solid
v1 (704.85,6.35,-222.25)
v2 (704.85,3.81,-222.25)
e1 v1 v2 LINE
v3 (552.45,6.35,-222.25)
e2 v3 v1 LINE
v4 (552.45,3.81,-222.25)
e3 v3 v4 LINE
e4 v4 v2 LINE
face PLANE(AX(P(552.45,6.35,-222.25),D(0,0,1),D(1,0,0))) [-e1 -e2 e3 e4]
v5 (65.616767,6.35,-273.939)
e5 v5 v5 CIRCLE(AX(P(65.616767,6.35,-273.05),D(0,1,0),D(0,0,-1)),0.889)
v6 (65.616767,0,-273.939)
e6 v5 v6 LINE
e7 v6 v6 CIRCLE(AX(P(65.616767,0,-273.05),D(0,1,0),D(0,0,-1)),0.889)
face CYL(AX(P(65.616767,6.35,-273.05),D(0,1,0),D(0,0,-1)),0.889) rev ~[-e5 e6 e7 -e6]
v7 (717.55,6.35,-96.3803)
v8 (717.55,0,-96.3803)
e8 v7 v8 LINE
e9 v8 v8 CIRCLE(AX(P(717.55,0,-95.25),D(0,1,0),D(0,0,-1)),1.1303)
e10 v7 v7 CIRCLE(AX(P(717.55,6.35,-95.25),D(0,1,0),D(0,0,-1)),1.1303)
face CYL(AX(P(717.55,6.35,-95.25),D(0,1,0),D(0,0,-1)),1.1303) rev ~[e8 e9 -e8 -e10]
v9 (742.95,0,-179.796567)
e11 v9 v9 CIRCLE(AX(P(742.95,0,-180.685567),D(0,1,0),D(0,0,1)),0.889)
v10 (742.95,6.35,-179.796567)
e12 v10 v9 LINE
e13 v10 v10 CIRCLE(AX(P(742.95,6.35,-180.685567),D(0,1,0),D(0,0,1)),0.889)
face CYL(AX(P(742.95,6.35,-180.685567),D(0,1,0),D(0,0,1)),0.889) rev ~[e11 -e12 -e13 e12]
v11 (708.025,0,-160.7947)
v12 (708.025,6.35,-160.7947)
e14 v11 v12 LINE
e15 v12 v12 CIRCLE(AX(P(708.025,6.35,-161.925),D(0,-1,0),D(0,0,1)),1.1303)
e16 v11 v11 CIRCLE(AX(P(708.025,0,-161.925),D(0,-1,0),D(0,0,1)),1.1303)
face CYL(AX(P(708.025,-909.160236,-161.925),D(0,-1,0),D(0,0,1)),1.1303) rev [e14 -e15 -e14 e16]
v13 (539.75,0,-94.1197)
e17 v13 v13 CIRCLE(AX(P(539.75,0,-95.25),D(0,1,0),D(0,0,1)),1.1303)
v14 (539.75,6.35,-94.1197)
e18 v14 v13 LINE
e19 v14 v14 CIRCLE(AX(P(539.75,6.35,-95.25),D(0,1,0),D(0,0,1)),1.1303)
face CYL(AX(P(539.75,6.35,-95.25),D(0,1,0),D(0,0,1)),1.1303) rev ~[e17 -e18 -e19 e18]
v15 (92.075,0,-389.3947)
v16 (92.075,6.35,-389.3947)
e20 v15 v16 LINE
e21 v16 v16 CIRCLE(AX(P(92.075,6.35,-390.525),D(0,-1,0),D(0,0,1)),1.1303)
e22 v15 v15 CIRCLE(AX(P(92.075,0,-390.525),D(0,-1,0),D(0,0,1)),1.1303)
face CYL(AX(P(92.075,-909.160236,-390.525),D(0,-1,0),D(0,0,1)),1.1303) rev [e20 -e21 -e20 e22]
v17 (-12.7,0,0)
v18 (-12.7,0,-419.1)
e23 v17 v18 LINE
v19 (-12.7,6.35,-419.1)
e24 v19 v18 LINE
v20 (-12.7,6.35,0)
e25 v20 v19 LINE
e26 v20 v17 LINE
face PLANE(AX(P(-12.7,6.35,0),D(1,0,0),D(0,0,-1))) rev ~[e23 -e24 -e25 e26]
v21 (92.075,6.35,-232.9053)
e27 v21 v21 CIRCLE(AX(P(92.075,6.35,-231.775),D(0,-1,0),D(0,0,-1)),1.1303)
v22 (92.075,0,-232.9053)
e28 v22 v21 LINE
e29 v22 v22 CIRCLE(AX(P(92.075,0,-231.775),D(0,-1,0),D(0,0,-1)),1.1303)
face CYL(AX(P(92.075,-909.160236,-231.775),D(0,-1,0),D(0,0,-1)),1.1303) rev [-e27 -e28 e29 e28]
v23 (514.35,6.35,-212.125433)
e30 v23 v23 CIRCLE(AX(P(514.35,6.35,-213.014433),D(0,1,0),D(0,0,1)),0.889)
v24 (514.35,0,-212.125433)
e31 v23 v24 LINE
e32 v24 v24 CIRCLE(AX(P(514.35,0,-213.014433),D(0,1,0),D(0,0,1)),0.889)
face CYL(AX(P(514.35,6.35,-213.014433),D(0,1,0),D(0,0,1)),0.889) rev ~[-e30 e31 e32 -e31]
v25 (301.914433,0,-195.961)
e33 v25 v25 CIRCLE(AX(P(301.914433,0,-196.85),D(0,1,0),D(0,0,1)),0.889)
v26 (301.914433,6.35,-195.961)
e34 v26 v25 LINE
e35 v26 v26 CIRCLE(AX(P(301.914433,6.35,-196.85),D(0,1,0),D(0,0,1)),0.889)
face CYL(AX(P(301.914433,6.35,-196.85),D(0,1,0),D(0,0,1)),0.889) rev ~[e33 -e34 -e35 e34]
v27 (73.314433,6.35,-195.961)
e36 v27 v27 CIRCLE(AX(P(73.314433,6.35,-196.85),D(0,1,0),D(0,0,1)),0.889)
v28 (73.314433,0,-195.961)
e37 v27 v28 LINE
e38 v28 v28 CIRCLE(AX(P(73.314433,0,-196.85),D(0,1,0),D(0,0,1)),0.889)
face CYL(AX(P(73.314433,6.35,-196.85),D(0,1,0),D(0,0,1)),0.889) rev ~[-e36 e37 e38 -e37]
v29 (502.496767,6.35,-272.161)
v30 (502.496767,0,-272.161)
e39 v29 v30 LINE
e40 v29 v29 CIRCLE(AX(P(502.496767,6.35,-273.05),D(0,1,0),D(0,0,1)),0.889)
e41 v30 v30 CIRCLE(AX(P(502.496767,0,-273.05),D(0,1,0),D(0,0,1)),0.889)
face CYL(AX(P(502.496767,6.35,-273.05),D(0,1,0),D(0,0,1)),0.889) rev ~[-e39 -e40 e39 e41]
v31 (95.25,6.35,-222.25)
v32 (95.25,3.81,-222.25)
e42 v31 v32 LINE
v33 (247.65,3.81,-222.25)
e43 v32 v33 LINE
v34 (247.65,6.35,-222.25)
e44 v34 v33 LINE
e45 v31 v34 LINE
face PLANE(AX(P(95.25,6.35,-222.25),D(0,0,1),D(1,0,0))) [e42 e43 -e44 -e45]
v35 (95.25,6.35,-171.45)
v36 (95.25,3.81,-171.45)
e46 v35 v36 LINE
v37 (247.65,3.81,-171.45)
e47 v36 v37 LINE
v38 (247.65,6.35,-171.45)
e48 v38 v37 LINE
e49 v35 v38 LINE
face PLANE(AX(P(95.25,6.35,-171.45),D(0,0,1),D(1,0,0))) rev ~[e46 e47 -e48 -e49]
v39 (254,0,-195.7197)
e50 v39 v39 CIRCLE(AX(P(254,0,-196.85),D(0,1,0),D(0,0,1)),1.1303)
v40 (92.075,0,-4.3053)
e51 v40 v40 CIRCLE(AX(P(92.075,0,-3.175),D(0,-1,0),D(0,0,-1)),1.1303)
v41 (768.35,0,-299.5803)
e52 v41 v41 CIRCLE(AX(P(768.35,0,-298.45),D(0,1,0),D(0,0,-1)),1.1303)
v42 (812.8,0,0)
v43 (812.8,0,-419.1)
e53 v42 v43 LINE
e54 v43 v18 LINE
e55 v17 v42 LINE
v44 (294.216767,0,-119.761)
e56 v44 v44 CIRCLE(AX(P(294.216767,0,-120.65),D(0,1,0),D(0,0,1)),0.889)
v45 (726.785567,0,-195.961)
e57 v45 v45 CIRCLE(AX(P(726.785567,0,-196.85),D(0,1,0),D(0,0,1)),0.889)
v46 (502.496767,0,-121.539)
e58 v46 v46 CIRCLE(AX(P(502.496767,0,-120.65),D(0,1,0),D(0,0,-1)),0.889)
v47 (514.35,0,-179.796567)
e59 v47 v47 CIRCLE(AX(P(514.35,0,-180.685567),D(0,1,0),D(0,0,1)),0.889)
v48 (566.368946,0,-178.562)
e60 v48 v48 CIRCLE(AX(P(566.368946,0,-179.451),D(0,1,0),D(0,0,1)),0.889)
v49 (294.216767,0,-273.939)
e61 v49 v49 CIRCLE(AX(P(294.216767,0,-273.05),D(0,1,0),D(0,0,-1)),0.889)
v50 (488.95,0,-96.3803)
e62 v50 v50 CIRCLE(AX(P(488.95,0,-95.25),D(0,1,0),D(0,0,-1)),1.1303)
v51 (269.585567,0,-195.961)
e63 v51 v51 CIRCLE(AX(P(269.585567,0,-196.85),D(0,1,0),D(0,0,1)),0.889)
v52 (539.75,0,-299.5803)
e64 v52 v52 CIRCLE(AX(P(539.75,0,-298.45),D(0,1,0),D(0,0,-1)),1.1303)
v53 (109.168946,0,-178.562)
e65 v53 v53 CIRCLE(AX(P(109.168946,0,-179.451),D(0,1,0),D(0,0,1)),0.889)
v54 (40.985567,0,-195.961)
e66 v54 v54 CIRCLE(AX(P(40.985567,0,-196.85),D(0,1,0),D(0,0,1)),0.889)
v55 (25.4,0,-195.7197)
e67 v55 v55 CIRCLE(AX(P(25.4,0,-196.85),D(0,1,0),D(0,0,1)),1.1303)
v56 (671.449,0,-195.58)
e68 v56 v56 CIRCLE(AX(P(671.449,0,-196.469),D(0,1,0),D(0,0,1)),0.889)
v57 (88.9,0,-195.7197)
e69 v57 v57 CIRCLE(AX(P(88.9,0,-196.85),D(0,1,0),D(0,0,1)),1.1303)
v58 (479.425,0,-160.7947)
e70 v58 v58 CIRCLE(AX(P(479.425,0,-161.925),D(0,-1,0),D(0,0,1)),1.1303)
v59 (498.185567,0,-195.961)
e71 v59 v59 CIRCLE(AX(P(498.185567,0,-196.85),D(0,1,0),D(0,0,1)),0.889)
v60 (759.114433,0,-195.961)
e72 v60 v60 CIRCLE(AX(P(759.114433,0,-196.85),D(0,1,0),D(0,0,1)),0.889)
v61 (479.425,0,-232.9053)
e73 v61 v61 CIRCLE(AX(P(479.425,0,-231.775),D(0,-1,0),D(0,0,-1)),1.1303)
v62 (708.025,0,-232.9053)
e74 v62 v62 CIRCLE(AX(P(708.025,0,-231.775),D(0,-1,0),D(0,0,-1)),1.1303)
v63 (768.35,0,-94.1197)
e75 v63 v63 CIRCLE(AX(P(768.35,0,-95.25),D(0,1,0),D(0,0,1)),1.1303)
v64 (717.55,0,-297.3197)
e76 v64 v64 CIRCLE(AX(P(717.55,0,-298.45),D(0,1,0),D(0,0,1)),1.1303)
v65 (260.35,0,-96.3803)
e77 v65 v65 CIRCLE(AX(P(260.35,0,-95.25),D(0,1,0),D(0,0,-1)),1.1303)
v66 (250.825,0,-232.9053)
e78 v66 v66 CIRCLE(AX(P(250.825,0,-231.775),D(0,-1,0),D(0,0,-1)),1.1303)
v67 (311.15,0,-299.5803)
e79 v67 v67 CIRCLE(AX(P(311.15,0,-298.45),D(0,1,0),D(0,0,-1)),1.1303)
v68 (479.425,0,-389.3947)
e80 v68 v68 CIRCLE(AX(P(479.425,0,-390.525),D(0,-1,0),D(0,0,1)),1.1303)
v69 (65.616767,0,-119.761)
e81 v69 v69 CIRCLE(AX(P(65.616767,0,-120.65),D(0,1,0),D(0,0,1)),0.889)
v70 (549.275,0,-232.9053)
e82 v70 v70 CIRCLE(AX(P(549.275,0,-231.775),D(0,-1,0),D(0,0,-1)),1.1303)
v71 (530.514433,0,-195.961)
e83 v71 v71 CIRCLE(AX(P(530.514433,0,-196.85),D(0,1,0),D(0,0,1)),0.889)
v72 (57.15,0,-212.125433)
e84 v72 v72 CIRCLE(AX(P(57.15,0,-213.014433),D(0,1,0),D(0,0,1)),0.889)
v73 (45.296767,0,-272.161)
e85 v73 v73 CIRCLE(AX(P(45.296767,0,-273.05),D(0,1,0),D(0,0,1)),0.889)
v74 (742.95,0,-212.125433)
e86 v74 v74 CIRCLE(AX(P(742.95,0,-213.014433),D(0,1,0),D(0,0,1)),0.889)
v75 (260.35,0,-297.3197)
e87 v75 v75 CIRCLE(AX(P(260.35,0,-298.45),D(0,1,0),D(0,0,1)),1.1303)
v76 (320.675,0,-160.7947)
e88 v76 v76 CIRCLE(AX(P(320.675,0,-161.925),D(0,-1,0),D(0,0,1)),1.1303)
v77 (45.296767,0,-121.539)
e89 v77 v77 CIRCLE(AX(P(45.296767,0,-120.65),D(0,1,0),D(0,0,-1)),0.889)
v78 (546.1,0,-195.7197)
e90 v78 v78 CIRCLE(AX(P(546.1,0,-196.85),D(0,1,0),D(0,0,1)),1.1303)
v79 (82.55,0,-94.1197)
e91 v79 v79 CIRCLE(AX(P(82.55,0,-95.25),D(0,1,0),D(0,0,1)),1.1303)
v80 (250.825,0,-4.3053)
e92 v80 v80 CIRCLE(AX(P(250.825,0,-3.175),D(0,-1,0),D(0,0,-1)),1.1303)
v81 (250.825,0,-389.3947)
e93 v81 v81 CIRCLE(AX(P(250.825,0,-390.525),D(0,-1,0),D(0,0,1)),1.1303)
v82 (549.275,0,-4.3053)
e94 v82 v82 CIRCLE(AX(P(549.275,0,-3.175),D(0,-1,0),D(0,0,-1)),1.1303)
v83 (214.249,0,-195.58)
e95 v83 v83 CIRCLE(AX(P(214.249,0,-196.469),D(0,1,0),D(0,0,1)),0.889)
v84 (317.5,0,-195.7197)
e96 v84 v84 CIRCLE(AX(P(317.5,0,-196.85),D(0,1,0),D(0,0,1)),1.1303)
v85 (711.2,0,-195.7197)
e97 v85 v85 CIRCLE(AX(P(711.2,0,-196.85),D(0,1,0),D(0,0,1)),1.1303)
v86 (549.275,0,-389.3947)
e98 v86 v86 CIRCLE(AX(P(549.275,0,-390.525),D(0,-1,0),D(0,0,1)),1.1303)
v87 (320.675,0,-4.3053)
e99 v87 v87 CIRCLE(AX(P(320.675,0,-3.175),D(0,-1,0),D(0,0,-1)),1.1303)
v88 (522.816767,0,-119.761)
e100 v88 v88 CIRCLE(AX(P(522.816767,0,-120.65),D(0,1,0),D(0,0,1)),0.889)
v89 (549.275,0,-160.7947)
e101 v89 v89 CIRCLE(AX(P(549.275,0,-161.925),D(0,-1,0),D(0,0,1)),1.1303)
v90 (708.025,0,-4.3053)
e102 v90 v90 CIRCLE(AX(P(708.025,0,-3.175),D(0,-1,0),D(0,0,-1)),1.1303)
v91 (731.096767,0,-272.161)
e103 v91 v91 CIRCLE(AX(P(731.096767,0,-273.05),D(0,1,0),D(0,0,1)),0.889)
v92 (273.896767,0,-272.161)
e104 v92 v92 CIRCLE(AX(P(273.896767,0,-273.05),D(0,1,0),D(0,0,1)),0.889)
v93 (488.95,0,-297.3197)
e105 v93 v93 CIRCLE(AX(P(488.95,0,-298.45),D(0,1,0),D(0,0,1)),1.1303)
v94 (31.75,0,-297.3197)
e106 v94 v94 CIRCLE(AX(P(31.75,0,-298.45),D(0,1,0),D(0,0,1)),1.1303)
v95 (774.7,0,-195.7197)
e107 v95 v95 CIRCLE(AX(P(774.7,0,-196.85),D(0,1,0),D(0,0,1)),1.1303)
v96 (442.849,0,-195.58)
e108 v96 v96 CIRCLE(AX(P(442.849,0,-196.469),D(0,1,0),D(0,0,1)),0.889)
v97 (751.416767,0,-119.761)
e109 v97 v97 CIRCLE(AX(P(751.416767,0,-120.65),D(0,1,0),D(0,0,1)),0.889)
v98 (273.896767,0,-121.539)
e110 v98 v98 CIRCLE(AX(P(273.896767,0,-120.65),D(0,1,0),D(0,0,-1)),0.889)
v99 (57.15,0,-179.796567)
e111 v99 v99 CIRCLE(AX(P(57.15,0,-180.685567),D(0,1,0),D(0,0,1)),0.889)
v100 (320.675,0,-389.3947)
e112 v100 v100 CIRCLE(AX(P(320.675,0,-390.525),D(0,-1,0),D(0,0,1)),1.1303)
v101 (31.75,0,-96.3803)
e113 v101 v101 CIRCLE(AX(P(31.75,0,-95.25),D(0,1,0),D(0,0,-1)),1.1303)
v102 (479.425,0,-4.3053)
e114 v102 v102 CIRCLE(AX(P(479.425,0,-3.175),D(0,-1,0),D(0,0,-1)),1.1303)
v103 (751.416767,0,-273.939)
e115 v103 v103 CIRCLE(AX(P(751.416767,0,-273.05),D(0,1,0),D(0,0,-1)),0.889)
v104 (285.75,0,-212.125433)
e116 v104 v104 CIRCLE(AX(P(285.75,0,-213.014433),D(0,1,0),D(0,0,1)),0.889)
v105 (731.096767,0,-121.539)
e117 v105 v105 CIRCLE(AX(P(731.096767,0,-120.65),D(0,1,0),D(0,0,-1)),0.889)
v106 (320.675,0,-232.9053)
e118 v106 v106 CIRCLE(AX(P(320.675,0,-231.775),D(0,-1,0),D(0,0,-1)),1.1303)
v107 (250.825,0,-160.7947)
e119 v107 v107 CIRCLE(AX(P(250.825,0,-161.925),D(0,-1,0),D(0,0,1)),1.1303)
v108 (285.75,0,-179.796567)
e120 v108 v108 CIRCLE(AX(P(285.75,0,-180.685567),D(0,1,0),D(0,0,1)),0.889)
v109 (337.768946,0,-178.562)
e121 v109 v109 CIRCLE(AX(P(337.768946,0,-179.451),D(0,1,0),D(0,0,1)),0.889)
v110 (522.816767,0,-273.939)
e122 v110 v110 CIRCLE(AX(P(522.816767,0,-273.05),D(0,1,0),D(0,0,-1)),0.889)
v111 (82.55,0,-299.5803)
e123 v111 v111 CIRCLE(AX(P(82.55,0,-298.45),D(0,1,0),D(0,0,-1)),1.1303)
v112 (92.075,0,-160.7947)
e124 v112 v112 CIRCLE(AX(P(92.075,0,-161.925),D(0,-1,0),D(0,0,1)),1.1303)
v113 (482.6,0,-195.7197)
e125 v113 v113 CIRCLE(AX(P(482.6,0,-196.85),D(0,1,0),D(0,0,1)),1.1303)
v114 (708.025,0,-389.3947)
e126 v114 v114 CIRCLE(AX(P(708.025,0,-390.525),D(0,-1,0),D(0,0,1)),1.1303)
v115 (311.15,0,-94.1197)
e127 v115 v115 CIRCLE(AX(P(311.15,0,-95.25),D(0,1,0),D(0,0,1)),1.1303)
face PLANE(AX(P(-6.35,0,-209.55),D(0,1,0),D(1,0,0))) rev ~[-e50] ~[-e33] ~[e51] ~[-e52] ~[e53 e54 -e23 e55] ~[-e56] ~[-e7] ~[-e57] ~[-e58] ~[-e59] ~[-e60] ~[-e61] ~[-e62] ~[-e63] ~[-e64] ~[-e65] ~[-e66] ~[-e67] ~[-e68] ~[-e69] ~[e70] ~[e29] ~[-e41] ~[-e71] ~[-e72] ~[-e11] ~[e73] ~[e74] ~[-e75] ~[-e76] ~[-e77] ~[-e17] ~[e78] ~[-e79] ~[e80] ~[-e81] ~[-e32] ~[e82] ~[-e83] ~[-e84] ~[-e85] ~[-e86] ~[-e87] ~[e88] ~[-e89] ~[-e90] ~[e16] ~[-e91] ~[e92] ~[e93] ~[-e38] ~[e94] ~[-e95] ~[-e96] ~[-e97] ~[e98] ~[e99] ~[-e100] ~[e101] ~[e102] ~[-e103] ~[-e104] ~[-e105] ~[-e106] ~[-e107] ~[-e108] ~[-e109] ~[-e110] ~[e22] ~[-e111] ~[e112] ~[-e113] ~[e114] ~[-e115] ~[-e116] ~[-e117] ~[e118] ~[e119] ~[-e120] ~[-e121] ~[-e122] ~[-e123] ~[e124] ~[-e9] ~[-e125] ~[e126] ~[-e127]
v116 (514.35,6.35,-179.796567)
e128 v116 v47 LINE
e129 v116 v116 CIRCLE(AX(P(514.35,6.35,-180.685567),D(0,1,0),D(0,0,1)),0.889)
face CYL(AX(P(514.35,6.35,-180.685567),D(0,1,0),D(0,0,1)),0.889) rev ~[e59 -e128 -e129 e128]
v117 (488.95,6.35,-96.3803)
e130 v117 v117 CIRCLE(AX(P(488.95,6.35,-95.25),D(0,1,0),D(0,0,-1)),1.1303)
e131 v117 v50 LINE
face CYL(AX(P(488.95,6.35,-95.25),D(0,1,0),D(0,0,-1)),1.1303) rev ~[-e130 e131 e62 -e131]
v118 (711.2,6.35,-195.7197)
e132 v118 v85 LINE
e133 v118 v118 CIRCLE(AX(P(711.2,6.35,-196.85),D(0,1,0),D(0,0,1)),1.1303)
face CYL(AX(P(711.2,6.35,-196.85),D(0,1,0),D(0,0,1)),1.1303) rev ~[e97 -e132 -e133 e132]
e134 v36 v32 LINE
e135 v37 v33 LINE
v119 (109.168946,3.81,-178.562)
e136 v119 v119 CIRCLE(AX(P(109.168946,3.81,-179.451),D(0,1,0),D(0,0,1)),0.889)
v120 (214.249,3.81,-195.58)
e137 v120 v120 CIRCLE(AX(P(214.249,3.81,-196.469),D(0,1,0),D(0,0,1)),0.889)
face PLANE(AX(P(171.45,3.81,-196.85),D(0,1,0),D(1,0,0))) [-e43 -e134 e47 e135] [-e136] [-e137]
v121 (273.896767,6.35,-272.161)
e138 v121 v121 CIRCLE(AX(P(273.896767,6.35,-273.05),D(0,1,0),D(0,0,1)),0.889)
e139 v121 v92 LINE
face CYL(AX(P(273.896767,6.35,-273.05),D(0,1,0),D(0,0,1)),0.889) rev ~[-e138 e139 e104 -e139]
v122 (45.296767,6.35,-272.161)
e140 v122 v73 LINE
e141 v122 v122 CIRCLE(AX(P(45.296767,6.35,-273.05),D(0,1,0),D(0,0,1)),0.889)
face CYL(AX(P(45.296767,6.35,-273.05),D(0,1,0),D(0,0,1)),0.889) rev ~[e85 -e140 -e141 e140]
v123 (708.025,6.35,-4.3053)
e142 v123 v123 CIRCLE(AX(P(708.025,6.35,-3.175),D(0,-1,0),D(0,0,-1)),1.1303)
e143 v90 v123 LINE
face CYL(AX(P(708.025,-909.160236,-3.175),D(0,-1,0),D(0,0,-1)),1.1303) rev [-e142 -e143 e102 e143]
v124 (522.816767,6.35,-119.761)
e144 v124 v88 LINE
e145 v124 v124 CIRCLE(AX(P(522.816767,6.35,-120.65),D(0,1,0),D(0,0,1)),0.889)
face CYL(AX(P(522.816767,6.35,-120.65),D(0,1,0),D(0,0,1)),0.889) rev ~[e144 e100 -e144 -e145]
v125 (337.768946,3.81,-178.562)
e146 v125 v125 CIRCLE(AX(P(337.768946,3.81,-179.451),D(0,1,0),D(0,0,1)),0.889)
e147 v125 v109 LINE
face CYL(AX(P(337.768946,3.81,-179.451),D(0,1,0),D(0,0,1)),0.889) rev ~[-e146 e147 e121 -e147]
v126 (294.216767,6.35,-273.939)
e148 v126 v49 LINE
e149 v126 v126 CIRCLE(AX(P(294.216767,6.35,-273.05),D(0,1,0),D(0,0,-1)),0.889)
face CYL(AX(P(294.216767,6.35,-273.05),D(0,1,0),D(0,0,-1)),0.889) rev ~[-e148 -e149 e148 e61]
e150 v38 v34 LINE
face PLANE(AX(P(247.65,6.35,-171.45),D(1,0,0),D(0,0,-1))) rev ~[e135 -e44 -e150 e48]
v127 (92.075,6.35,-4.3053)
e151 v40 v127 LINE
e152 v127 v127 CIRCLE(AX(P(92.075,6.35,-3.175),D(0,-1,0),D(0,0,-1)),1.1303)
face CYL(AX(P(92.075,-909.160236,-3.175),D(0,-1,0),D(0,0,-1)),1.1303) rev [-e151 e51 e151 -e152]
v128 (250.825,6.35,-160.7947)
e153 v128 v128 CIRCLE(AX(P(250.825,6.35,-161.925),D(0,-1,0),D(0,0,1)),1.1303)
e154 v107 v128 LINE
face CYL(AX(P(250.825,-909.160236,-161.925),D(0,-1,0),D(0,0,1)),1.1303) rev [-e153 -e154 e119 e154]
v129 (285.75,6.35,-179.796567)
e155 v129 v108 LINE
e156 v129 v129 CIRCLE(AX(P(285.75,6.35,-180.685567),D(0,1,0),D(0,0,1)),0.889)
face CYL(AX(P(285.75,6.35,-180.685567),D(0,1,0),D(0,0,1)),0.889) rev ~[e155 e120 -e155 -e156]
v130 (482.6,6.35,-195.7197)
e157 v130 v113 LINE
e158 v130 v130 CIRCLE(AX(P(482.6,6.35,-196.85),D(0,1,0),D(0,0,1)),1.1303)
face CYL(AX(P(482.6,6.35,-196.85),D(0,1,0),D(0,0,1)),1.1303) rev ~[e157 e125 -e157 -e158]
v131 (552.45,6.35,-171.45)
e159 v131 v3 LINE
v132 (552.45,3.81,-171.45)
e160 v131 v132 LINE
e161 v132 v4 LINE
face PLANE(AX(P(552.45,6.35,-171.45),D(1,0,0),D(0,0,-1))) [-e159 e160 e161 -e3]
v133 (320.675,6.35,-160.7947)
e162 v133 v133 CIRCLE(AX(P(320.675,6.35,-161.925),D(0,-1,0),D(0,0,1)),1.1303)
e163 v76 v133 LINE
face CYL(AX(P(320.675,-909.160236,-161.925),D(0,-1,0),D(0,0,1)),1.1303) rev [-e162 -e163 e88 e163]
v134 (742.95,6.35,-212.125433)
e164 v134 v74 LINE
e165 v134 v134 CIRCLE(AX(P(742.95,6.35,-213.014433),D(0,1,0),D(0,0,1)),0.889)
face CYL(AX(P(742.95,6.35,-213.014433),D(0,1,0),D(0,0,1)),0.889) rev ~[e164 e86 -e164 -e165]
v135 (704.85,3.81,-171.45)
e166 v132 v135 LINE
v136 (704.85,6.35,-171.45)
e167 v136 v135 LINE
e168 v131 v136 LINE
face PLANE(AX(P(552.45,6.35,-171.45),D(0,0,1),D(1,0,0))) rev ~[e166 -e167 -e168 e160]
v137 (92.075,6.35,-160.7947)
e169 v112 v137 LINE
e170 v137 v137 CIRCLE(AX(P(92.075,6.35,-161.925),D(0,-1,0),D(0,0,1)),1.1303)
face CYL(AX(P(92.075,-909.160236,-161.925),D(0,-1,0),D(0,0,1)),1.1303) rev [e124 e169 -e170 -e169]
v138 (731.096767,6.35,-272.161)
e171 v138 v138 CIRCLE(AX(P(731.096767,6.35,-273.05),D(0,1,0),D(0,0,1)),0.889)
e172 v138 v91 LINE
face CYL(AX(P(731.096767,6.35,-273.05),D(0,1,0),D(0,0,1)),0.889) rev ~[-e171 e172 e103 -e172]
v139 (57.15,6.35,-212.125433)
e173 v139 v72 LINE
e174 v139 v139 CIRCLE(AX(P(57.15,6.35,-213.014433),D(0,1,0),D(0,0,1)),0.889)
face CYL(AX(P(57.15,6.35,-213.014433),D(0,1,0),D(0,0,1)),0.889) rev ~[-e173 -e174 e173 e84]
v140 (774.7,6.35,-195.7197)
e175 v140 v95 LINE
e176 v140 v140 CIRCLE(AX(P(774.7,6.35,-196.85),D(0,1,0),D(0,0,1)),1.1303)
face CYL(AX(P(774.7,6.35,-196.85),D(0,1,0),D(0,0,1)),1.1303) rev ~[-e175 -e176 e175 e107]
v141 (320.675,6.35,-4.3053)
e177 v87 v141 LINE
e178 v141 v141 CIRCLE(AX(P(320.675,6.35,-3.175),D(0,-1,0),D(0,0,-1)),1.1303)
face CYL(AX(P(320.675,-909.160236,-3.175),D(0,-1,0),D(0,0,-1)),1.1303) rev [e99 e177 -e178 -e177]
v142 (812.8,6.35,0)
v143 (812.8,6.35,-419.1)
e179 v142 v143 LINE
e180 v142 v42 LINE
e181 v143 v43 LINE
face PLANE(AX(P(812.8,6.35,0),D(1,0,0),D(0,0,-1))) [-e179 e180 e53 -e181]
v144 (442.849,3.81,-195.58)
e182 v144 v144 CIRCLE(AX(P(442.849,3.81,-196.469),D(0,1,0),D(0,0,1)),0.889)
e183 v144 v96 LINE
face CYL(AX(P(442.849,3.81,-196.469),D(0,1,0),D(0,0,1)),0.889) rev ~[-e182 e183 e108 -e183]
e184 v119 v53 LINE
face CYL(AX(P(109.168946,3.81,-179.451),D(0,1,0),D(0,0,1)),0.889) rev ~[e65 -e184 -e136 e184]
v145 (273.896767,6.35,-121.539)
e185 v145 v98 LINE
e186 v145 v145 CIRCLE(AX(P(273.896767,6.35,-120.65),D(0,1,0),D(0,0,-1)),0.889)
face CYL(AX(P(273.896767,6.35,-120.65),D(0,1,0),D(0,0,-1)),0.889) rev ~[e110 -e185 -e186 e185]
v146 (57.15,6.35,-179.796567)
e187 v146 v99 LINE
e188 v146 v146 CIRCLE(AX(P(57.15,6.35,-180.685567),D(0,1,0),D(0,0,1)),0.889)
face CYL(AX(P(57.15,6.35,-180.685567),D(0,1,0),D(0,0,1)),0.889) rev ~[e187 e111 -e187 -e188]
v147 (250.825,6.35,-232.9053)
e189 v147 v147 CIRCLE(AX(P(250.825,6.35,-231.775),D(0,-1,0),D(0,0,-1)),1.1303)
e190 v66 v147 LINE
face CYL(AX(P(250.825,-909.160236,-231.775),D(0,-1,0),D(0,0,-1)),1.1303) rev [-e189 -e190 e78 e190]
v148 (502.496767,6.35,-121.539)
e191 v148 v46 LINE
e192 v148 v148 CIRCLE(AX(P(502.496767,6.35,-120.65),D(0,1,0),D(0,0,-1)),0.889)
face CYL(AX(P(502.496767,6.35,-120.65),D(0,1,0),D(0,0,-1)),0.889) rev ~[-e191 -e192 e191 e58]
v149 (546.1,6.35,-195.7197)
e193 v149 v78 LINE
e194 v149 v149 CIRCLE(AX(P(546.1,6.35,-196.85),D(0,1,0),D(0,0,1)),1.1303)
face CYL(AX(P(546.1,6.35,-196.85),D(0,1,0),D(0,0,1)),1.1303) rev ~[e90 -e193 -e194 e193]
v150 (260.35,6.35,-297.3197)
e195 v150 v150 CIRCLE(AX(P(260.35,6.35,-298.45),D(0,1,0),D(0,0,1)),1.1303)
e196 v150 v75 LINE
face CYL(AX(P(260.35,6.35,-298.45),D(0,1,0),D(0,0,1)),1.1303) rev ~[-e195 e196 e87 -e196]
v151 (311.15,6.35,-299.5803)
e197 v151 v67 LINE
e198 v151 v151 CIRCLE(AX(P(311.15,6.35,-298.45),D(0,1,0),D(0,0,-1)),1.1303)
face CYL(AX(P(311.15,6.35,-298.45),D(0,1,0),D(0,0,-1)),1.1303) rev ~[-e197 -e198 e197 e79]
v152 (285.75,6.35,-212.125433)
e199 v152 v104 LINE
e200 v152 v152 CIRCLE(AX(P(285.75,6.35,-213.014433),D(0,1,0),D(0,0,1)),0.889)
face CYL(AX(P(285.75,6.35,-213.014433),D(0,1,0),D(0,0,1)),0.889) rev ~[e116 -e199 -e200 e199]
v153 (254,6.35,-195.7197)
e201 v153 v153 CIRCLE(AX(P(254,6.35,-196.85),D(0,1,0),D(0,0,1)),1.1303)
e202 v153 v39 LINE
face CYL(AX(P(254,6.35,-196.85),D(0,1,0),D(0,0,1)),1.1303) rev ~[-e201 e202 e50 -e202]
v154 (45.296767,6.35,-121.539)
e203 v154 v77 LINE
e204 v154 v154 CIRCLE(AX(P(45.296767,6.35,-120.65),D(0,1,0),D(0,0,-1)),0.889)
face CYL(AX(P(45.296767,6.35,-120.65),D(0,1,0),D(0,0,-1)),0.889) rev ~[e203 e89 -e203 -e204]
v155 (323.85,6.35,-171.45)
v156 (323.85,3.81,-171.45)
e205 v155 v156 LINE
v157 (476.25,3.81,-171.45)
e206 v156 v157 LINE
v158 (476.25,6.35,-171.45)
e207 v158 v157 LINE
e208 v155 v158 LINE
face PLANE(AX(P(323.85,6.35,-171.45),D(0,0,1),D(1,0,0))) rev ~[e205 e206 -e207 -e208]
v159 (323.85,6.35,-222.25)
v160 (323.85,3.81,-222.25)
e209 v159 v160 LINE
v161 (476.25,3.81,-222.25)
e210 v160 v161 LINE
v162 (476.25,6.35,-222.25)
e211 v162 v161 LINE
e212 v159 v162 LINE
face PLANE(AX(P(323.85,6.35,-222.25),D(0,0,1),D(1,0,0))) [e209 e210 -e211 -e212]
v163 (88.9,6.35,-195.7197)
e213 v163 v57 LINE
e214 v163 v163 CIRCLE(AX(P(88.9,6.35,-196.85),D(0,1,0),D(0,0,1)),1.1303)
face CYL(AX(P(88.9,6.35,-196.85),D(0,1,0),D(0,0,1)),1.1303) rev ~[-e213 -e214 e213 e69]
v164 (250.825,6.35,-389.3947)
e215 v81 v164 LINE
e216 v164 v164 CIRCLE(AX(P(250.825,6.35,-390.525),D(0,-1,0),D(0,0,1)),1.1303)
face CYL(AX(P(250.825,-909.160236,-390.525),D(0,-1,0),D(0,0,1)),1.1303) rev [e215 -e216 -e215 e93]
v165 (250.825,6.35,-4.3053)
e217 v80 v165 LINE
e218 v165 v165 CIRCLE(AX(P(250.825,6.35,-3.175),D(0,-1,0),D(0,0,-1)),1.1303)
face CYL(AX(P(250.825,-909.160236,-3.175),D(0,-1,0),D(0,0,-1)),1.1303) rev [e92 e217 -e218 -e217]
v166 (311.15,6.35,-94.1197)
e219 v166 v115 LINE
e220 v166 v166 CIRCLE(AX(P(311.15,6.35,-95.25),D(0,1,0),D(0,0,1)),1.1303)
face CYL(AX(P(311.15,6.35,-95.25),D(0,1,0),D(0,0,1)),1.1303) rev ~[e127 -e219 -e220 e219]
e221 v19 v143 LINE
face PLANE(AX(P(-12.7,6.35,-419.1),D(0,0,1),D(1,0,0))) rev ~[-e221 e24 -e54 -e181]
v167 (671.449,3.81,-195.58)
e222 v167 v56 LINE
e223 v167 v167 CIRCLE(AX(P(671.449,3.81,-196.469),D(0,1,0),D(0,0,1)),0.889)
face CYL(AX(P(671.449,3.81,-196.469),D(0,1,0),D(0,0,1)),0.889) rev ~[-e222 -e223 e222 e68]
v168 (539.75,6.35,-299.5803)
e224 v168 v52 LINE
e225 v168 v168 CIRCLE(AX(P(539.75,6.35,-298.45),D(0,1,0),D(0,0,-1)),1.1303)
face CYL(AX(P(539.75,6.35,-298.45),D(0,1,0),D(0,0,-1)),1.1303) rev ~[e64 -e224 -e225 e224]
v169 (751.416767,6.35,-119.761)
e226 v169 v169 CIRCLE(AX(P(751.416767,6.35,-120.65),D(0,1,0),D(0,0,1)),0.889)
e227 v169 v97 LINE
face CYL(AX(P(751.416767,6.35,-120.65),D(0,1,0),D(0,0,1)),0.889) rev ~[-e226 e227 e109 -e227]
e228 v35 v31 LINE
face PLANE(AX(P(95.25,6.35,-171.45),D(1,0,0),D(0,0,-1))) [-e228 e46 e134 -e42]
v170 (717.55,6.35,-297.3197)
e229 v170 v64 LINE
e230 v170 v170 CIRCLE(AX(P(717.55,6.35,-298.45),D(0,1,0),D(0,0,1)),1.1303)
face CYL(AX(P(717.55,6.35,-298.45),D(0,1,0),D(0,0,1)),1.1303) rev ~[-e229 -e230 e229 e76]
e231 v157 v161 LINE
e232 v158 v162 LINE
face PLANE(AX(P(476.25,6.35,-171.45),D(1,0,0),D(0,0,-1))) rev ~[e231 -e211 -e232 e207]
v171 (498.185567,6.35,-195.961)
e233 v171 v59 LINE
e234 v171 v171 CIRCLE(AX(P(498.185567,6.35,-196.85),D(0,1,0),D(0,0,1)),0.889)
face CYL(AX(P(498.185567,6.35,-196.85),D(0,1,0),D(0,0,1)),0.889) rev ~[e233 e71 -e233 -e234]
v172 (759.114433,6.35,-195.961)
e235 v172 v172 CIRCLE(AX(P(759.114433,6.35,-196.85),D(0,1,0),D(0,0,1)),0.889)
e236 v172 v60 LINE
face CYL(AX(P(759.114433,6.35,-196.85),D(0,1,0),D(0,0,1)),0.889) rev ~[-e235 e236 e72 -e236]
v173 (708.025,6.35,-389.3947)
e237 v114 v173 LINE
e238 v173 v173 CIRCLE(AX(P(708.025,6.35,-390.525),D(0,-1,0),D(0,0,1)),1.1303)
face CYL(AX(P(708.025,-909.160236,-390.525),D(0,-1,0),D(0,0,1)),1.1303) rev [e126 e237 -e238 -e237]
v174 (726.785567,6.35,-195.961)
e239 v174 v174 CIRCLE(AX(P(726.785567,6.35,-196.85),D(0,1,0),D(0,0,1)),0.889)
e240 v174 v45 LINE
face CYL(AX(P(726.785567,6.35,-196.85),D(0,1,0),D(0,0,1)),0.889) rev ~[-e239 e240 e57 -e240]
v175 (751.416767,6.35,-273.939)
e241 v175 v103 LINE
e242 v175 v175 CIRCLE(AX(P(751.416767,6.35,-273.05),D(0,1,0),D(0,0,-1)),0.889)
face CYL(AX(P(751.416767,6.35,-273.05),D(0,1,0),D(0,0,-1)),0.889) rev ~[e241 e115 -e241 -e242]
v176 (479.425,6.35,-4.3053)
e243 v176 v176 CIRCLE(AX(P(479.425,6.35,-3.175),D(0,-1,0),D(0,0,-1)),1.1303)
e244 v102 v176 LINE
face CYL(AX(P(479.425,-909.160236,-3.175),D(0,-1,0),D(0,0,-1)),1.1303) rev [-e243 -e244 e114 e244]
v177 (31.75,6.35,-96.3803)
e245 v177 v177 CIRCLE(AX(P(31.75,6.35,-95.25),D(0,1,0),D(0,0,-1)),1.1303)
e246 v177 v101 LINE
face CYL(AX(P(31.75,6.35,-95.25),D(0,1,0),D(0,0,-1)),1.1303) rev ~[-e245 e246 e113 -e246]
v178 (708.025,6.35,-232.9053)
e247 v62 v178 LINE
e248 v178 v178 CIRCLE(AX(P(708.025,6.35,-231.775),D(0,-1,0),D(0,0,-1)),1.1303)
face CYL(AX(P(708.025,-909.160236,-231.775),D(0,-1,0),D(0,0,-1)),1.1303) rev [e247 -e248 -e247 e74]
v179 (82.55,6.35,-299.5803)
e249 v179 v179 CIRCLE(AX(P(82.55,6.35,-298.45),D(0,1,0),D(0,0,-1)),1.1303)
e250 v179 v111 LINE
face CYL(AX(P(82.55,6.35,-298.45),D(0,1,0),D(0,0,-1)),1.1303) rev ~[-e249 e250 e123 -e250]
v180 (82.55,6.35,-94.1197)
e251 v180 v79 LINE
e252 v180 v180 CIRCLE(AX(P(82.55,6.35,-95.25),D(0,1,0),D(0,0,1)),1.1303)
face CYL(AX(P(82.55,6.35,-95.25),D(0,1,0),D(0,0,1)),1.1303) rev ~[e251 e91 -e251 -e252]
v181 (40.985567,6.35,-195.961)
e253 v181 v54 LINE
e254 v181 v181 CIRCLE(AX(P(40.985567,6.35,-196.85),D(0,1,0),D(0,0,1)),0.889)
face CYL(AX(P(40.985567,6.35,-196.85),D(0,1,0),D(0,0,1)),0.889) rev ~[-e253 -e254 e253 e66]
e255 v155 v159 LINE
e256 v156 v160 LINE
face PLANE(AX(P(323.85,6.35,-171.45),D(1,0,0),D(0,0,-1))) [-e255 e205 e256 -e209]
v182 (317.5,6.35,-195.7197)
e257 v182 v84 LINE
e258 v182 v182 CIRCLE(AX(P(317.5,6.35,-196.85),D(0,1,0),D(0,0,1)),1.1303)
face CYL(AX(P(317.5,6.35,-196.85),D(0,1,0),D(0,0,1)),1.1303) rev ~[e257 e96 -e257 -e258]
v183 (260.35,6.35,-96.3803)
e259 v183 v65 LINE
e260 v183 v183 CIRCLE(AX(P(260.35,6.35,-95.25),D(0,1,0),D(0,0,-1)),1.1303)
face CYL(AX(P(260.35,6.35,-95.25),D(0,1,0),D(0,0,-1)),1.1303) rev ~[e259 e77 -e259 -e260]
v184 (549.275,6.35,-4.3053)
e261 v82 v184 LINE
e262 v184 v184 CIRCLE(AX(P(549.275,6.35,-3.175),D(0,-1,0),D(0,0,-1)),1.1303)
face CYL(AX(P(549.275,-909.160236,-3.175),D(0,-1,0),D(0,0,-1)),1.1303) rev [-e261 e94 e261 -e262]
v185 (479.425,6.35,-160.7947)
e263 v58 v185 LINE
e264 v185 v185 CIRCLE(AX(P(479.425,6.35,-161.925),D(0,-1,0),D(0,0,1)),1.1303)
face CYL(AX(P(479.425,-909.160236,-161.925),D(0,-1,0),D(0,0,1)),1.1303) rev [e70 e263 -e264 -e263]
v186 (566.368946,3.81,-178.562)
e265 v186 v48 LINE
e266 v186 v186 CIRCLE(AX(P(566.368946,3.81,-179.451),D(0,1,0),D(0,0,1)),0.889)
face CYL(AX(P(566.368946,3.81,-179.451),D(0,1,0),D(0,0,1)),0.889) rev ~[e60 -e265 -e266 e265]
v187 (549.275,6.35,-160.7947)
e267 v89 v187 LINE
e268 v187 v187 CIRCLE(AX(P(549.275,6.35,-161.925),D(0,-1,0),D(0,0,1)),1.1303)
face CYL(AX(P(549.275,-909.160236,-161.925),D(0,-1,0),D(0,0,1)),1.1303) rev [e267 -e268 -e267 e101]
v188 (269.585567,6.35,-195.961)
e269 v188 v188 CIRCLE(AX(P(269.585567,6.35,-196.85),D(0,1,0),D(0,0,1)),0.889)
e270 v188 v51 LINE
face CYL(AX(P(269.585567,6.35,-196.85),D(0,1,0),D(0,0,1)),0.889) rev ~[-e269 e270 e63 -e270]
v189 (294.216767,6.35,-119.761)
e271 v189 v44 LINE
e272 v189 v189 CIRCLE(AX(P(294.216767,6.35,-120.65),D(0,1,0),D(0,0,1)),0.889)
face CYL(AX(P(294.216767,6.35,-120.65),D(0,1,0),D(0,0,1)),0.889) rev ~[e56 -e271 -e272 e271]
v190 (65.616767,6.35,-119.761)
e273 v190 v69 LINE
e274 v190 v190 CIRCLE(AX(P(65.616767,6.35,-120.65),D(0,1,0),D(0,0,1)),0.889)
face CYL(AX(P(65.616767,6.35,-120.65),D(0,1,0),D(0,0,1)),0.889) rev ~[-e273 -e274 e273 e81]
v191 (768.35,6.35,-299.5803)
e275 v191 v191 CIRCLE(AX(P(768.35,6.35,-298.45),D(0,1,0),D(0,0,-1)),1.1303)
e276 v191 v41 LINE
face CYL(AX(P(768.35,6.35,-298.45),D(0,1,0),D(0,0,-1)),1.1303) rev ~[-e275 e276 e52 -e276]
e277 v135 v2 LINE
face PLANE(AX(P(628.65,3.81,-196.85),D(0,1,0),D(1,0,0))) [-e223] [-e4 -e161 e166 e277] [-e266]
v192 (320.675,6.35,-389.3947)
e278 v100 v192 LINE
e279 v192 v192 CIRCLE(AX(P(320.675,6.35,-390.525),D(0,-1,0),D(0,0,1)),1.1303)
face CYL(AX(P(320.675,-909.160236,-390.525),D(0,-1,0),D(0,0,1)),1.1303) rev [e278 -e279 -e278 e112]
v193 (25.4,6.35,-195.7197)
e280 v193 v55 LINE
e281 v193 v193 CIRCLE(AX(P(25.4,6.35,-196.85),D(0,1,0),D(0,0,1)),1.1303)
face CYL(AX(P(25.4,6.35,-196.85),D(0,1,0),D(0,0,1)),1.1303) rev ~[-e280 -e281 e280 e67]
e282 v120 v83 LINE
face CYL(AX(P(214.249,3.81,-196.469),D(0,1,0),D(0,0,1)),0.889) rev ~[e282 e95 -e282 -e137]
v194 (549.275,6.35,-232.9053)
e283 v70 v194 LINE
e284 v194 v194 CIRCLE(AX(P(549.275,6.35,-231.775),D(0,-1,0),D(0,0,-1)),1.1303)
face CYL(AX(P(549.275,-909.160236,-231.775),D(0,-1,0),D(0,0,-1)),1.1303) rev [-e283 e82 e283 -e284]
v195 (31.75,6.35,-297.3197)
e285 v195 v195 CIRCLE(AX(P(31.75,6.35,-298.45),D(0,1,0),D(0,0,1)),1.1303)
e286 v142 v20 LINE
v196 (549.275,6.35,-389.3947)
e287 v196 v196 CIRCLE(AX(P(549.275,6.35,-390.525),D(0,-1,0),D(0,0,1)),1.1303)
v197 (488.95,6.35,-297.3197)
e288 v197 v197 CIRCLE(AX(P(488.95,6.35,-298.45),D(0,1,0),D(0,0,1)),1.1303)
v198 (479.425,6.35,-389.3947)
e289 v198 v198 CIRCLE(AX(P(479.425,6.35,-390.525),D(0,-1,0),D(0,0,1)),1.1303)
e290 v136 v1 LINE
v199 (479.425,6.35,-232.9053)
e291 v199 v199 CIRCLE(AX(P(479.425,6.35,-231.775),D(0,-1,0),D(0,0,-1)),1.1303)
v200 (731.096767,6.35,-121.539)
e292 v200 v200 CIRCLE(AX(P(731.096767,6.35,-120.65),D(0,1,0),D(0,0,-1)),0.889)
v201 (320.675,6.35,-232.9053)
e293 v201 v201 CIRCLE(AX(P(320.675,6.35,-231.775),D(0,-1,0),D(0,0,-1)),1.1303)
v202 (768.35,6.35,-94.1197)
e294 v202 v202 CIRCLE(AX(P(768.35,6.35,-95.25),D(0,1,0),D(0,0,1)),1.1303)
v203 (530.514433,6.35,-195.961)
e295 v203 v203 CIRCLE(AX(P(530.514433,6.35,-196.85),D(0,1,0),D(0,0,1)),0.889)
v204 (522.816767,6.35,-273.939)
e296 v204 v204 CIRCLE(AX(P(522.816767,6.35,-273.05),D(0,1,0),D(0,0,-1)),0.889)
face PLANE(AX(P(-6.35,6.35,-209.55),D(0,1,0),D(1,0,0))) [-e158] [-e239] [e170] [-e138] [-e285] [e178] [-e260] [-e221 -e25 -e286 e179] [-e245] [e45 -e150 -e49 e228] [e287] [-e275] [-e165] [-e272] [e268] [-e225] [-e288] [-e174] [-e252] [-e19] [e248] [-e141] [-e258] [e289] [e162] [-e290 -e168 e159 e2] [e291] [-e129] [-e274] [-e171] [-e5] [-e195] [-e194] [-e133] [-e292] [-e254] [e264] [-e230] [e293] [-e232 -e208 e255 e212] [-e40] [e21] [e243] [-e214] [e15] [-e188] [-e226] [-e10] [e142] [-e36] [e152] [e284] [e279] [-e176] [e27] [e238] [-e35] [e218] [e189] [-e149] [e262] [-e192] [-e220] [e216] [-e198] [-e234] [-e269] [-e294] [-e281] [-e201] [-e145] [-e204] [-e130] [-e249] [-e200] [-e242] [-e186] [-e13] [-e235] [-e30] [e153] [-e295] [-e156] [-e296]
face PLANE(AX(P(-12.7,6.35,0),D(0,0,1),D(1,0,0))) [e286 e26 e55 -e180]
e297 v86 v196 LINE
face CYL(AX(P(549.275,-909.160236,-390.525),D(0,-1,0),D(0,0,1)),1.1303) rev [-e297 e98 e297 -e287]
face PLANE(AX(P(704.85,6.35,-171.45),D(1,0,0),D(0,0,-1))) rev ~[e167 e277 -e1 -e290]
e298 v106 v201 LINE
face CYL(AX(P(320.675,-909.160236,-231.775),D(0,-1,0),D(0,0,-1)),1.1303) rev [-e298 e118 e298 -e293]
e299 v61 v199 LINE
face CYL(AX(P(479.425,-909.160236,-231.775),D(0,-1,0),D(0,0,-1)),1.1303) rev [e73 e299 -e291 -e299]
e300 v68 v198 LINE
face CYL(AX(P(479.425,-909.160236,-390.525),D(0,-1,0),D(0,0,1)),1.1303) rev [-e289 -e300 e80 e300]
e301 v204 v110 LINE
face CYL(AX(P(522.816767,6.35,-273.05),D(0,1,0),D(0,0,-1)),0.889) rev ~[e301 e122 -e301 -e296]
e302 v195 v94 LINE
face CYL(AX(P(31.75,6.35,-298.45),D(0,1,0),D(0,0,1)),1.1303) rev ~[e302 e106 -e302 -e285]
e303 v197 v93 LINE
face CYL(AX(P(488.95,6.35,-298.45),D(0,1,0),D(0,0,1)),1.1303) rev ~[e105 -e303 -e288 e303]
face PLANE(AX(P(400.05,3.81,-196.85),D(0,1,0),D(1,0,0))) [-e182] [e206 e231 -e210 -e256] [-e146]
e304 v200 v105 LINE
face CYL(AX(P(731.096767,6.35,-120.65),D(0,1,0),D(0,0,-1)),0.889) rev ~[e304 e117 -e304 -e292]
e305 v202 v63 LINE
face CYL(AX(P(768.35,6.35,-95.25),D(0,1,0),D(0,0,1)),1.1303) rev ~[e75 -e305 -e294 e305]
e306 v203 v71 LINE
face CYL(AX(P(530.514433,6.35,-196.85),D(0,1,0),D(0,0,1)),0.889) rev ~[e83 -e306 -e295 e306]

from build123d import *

# Parameters (mm, degrees)
SKETCH1_W               = 800.1
SKETCH1_H               = 419.1
BOSS_EXTRUDE1_DEPTH     = 6.35
SKETCH6_W               = 12.7
SKETCH6_H               = 419.1
BOSS_EXTRUDE2_DEPTH     = 6.35
CUT_EXTRUDE1_DEPTH      = 915.510236411
CUT_EXTRUDE1_DEPTH_BACK = 915.510236411
SKETCH4_R               = 1.1303
SKETCH5_R               = 1.1303
CUT_EXTRUDE2_DEPTH      = 915.510236411
SKETCH7_W               = 152.4
SKETCH7_H               = 50.8
CUT_EXTRUDE3_DEPTH      = 2.54
SKETCH8_R               = 0.889
CUT_EXTRUDE5_DEPTH      = 915.496126892
SKETCH9_R               = 0.889
CUT_EXTRUDE6_DEPTH      = 915.510236411
SKETCH10_R              = 0.889
CUT_EXTRUDE7_DEPTH      = 915.510236411


with BuildPart() as part:
    # Sketch1 → Boss-Extrude1 (new body)
    with BuildSketch(Plane(origin=(0, 0, 0), x_dir=(1, 0, 0), z_dir=(0, 1, 0))):
        with Locations((400.05, 209.55)):
            Rectangle(SKETCH1_W, SKETCH1_H)
    extrude(amount=BOSS_EXTRUDE1_DEPTH)

    # Sketch6 → Boss-Extrude2 (add)
    with BuildSketch(Plane(origin=(0, 6.35, 0), x_dir=(1, 0, 0), z_dir=(0, 1, 0))):
        with Locations((-6.35, 209.55)):
            Rectangle(SKETCH6_W, SKETCH6_H)
        with Locations((806.45, 209.55)):
            Rectangle(SKETCH6_W, SKETCH6_H)
    extrude(amount=-BOSS_EXTRUDE2_DEPTH)

    # Sketch4 → Cut-Extrude1 (cut, two sides: drawn at the far end of the back side and taken through both)
    with BuildSketch(Plane(origin=(0, 6.35, 0), x_dir=(1, 0, 0), z_dir=(0, 1, 0)).offset(-CUT_EXTRUDE1_DEPTH_BACK)):
        with Locations(Location((92.075, 390.525, 0), (0, 0, 270))):
            Circle(SKETCH4_R)
        with Locations(Location((250.825, 231.775, 0), (0, 0, 90))):
            Circle(SKETCH4_R)
        with Locations(Location((250.825, 390.525, 0), (0, 0, 270))):
            Circle(SKETCH4_R)
        with Locations(Location((92.075, 231.775, 0), (0, 0, 90))):
            Circle(SKETCH4_R)
        with Locations(Location((320.675, 390.525, 0), (0, 0, 270))):
            Circle(SKETCH4_R)
        with Locations(Location((320.675, 231.775, 0), (0, 0, 90))):
            Circle(SKETCH4_R)
        with Locations(Location((479.425, 231.775, 0), (0, 0, 90))):
            Circle(SKETCH4_R)
        with Locations(Location((479.425, 390.525, 0), (0, 0, 270))):
            Circle(SKETCH4_R)
        with Locations(Location((549.275, 390.525, 0), (0, 0, 270))):
            Circle(SKETCH4_R)
        with Locations(Location((549.275, 231.775, 0), (0, 0, 90))):
            Circle(SKETCH4_R)
        with Locations(Location((708.025, 231.775, 0), (0, 0, 90))):
            Circle(SKETCH4_R)
        with Locations(Location((708.025, 390.525, 0), (0, 0, 270))):
            Circle(SKETCH4_R)
        with Locations(Location((320.675, 161.925, 0), (0, 0, 270))):
            Circle(SKETCH4_R)
        with Locations(Location((320.675, 3.175, 0), (0, 0, 90))):
            Circle(SKETCH4_R)
        with Locations(Location((479.425, 3.175, 0), (0, 0, 90))):
            Circle(SKETCH4_R)
        with Locations(Location((479.425, 161.925, 0), (0, 0, 270))):
            Circle(SKETCH4_R)
        with Locations(Location((549.275, 161.925, 0), (0, 0, 270))):
            Circle(SKETCH4_R)
        with Locations(Location((549.275, 3.175, 0), (0, 0, 90))):
            Circle(SKETCH4_R)
        with Locations(Location((708.025, 3.175, 0), (0, 0, 90))):
            Circle(SKETCH4_R)
        with Locations(Location((708.025, 161.925, 0), (0, 0, 270))):
            Circle(SKETCH4_R)
        with Locations(Location((92.075, 161.925, 0), (0, 0, 270))):
            Circle(SKETCH4_R)
        with Locations(Location((92.075, 3.175, 0), (0, 0, 90))):
            Circle(SKETCH4_R)
        with Locations(Location((250.825, 3.175, 0), (0, 0, 90))):
            Circle(SKETCH4_R)
        with Locations(Location((250.825, 161.925, 0), (0, 0, 270))):
            Circle(SKETCH4_R)
    extrude(amount=CUT_EXTRUDE1_DEPTH + CUT_EXTRUDE1_DEPTH_BACK, mode=Mode.SUBTRACT)

    # Sketch5 → Cut-Extrude2 (cut, through all)
    with BuildSketch(Plane(origin=(0, 6.35, 0), x_dir=(1, 0, 0), z_dir=(0, 1, 0))):
        with Locations(Location((82.55, 95.25, 0), (0, 0, 270))):
            Circle(SKETCH5_R)
        with Locations(Location((31.75, 95.25, 0), (0, 0, 90))):
            Circle(SKETCH5_R)
        with Locations(Location((82.55, 298.45, 0), (0, 0, 90))):
            Circle(SKETCH5_R)
        with Locations(Location((31.75, 298.45, 0), (0, 0, 270))):
            Circle(SKETCH5_R)
        with Locations(Location((88.9, 196.85, 0), (0, 0, 270))):
            Circle(SKETCH5_R)
        with Locations(Location((25.4, 196.85, 0), (0, 0, 270))):
            Circle(SKETCH5_R)
        with Locations(Location((254, 196.85, 0), (0, 0, 270))):
            Circle(SKETCH5_R)
        with Locations(Location((317.5, 196.85, 0), (0, 0, 270))):
            Circle(SKETCH5_R)
        with Locations(Location((260.35, 95.25, 0), (0, 0, 90))):
            Circle(SKETCH5_R)
        with Locations(Location((311.15, 95.25, 0), (0, 0, 270))):
            Circle(SKETCH5_R)
        with Locations(Location((260.35, 298.45, 0), (0, 0, 270))):
            Circle(SKETCH5_R)
        with Locations(Location((311.15, 298.45, 0), (0, 0, 90))):
            Circle(SKETCH5_R)
        with Locations(Location((482.6, 196.85, 0), (0, 0, 270))):
            Circle(SKETCH5_R)
        with Locations(Location((546.1, 196.85, 0), (0, 0, 270))):
            Circle(SKETCH5_R)
        with Locations(Location((488.95, 95.25, 0), (0, 0, 90))):
            Circle(SKETCH5_R)
        with Locations(Location((539.75, 95.25, 0), (0, 0, 270))):
            Circle(SKETCH5_R)
        with Locations(Location((488.95, 298.45, 0), (0, 0, 270))):
            Circle(SKETCH5_R)
        with Locations(Location((539.75, 298.45, 0), (0, 0, 90))):
            Circle(SKETCH5_R)
        with Locations(Location((711.2, 196.85, 0), (0, 0, 270))):
            Circle(SKETCH5_R)
        with Locations(Location((774.7, 196.85, 0), (0, 0, 270))):
            Circle(SKETCH5_R)
        with Locations(Location((717.55, 95.25, 0), (0, 0, 90))):
            Circle(SKETCH5_R)
        with Locations(Location((768.35, 95.25, 0), (0, 0, 270))):
            Circle(SKETCH5_R)
        with Locations(Location((717.55, 298.45, 0), (0, 0, 270))):
            Circle(SKETCH5_R)
        with Locations(Location((768.35, 298.45, 0), (0, 0, 90))):
            Circle(SKETCH5_R)
    extrude(amount=-CUT_EXTRUDE2_DEPTH, mode=Mode.SUBTRACT)

    # Sketch7 → Cut-Extrude3 (cut)
    with BuildSketch(Plane(origin=(0, 6.35, 0), x_dir=(1, 0, 0), z_dir=(0, 1, 0))):
        with Locations((171.45, 196.85)):
            Rectangle(SKETCH7_W, SKETCH7_H)
        with Locations((400.05, 196.85)):
            Rectangle(SKETCH7_W, SKETCH7_H)
        with Locations((628.65, 196.85)):
            Rectangle(SKETCH7_W, SKETCH7_H)
    extrude(amount=-CUT_EXTRUDE3_DEPTH, mode=Mode.SUBTRACT)

    # Sketch8 → Cut-Extrude5 (cut, through all)
    with BuildSketch(Plane(origin=(0, 3.81, 0), x_dir=(1, 0, 0), z_dir=(0, 1, 0))):
        with Locations(Location((337.768946, 179.451, 0), (0, 0, 270))):
            Circle(SKETCH8_R)
        with Locations(Location((566.368946, 179.451, 0), (0, 0, 270))):
            Circle(SKETCH8_R)
        with Locations(Location((671.449, 196.469, 0), (0, 0, 270))):
            Circle(SKETCH8_R)
        with Locations(Location((214.249, 196.469, 0), (0, 0, 270))):
            Circle(SKETCH8_R)
        with Locations(Location((109.168946, 179.451, 0), (0, 0, 270))):
            Circle(SKETCH8_R)
        with Locations(Location((442.849, 196.469, 0), (0, 0, 270))):
            Circle(SKETCH8_R)
    extrude(amount=-CUT_EXTRUDE5_DEPTH, mode=Mode.SUBTRACT)

    # Sketch9 → Cut-Extrude6 (cut, through all)
    with BuildSketch(Plane(origin=(0, 6.35, 0), x_dir=(1, 0, 0), z_dir=(0, 1, 0))):
        with Locations(Location((40.985567, 196.85, 0), (0, 0, 270))):
            Circle(SKETCH9_R)
        with Locations(Location((57.15, 213.014433, 0), (0, 0, 270))):
            Circle(SKETCH9_R)
        with Locations(Location((73.314433, 196.85, 0), (0, 0, 270))):
            Circle(SKETCH9_R)
        with Locations(Location((57.15, 180.685567, 0), (0, 0, 270))):
            Circle(SKETCH9_R)
        with Locations(Location((269.585567, 196.85, 0), (0, 0, 270))):
            Circle(SKETCH9_R)
        with Locations(Location((285.75, 213.014433, 0), (0, 0, 270))):
            Circle(SKETCH9_R)
        with Locations(Location((301.914433, 196.85, 0), (0, 0, 270))):
            Circle(SKETCH9_R)
        with Locations(Location((285.75, 180.685567, 0), (0, 0, 270))):
            Circle(SKETCH9_R)
        with Locations(Location((498.185567, 196.85, 0), (0, 0, 270))):
            Circle(SKETCH9_R)
        with Locations(Location((514.35, 213.014433, 0), (0, 0, 270))):
            Circle(SKETCH9_R)
        with Locations(Location((530.514433, 196.85, 0), (0, 0, 270))):
            Circle(SKETCH9_R)
        with Locations(Location((514.35, 180.685567, 0), (0, 0, 270))):
            Circle(SKETCH9_R)
        with Locations(Location((726.785567, 196.85, 0), (0, 0, 270))):
            Circle(SKETCH9_R)
        with Locations(Location((742.95, 213.014433, 0), (0, 0, 270))):
            Circle(SKETCH9_R)
        with Locations(Location((759.114433, 196.85, 0), (0, 0, 270))):
            Circle(SKETCH9_R)
        with Locations(Location((742.95, 180.685567, 0), (0, 0, 270))):
            Circle(SKETCH9_R)
    extrude(amount=-CUT_EXTRUDE6_DEPTH, mode=Mode.SUBTRACT)

    # Sketch10 → Cut-Extrude7 (cut, through all)
    with BuildSketch(Plane(origin=(0, 6.35, 0), x_dir=(1, 0, 0), z_dir=(0, 1, 0))):
        with Locations(Location((45.296767183, 273.05, 0), (0, 0, 270))):
            Circle(SKETCH10_R)
        with Locations(Location((65.616767183, 273.05, 0), (0, 0, 90))):
            Circle(SKETCH10_R)
        with Locations(Location((65.616767183, 120.65, 0), (0, 0, 270))):
            Circle(SKETCH10_R)
        with Locations(Location((45.296767183, 120.65, 0), (0, 0, 90))):
            Circle(SKETCH10_R)
        with Locations(Location((273.896767183, 120.65, 0), (0, 0, 90))):
            Circle(SKETCH10_R)
        with Locations(Location((294.216767183, 120.65, 0), (0, 0, 270))):
            Circle(SKETCH10_R)
        with Locations(Location((273.896767183, 273.05, 0), (0, 0, 270))):
            Circle(SKETCH10_R)
        with Locations(Location((294.216767183, 273.05, 0), (0, 0, 90))):
            Circle(SKETCH10_R)
        with Locations(Location((502.496767183, 120.65, 0), (0, 0, 90))):
            Circle(SKETCH10_R)
        with Locations(Location((522.816767183, 120.65, 0), (0, 0, 270))):
            Circle(SKETCH10_R)
        with Locations(Location((502.496767183, 273.05, 0), (0, 0, 270))):
            Circle(SKETCH10_R)
        with Locations(Location((522.816767183, 273.05, 0), (0, 0, 90))):
            Circle(SKETCH10_R)
        with Locations(Location((731.096767183, 120.65, 0), (0, 0, 90))):
            Circle(SKETCH10_R)
        with Locations(Location((751.416767183, 120.65, 0), (0, 0, 270))):
            Circle(SKETCH10_R)
        with Locations(Location((731.096767183, 273.05, 0), (0, 0, 270))):
            Circle(SKETCH10_R)
        with Locations(Location((751.416767183, 273.05, 0), (0, 0, 90))):
            Circle(SKETCH10_R)
    extrude(amount=-CUT_EXTRUDE7_DEPTH, mode=Mode.SUBTRACT)


solid = part.part
